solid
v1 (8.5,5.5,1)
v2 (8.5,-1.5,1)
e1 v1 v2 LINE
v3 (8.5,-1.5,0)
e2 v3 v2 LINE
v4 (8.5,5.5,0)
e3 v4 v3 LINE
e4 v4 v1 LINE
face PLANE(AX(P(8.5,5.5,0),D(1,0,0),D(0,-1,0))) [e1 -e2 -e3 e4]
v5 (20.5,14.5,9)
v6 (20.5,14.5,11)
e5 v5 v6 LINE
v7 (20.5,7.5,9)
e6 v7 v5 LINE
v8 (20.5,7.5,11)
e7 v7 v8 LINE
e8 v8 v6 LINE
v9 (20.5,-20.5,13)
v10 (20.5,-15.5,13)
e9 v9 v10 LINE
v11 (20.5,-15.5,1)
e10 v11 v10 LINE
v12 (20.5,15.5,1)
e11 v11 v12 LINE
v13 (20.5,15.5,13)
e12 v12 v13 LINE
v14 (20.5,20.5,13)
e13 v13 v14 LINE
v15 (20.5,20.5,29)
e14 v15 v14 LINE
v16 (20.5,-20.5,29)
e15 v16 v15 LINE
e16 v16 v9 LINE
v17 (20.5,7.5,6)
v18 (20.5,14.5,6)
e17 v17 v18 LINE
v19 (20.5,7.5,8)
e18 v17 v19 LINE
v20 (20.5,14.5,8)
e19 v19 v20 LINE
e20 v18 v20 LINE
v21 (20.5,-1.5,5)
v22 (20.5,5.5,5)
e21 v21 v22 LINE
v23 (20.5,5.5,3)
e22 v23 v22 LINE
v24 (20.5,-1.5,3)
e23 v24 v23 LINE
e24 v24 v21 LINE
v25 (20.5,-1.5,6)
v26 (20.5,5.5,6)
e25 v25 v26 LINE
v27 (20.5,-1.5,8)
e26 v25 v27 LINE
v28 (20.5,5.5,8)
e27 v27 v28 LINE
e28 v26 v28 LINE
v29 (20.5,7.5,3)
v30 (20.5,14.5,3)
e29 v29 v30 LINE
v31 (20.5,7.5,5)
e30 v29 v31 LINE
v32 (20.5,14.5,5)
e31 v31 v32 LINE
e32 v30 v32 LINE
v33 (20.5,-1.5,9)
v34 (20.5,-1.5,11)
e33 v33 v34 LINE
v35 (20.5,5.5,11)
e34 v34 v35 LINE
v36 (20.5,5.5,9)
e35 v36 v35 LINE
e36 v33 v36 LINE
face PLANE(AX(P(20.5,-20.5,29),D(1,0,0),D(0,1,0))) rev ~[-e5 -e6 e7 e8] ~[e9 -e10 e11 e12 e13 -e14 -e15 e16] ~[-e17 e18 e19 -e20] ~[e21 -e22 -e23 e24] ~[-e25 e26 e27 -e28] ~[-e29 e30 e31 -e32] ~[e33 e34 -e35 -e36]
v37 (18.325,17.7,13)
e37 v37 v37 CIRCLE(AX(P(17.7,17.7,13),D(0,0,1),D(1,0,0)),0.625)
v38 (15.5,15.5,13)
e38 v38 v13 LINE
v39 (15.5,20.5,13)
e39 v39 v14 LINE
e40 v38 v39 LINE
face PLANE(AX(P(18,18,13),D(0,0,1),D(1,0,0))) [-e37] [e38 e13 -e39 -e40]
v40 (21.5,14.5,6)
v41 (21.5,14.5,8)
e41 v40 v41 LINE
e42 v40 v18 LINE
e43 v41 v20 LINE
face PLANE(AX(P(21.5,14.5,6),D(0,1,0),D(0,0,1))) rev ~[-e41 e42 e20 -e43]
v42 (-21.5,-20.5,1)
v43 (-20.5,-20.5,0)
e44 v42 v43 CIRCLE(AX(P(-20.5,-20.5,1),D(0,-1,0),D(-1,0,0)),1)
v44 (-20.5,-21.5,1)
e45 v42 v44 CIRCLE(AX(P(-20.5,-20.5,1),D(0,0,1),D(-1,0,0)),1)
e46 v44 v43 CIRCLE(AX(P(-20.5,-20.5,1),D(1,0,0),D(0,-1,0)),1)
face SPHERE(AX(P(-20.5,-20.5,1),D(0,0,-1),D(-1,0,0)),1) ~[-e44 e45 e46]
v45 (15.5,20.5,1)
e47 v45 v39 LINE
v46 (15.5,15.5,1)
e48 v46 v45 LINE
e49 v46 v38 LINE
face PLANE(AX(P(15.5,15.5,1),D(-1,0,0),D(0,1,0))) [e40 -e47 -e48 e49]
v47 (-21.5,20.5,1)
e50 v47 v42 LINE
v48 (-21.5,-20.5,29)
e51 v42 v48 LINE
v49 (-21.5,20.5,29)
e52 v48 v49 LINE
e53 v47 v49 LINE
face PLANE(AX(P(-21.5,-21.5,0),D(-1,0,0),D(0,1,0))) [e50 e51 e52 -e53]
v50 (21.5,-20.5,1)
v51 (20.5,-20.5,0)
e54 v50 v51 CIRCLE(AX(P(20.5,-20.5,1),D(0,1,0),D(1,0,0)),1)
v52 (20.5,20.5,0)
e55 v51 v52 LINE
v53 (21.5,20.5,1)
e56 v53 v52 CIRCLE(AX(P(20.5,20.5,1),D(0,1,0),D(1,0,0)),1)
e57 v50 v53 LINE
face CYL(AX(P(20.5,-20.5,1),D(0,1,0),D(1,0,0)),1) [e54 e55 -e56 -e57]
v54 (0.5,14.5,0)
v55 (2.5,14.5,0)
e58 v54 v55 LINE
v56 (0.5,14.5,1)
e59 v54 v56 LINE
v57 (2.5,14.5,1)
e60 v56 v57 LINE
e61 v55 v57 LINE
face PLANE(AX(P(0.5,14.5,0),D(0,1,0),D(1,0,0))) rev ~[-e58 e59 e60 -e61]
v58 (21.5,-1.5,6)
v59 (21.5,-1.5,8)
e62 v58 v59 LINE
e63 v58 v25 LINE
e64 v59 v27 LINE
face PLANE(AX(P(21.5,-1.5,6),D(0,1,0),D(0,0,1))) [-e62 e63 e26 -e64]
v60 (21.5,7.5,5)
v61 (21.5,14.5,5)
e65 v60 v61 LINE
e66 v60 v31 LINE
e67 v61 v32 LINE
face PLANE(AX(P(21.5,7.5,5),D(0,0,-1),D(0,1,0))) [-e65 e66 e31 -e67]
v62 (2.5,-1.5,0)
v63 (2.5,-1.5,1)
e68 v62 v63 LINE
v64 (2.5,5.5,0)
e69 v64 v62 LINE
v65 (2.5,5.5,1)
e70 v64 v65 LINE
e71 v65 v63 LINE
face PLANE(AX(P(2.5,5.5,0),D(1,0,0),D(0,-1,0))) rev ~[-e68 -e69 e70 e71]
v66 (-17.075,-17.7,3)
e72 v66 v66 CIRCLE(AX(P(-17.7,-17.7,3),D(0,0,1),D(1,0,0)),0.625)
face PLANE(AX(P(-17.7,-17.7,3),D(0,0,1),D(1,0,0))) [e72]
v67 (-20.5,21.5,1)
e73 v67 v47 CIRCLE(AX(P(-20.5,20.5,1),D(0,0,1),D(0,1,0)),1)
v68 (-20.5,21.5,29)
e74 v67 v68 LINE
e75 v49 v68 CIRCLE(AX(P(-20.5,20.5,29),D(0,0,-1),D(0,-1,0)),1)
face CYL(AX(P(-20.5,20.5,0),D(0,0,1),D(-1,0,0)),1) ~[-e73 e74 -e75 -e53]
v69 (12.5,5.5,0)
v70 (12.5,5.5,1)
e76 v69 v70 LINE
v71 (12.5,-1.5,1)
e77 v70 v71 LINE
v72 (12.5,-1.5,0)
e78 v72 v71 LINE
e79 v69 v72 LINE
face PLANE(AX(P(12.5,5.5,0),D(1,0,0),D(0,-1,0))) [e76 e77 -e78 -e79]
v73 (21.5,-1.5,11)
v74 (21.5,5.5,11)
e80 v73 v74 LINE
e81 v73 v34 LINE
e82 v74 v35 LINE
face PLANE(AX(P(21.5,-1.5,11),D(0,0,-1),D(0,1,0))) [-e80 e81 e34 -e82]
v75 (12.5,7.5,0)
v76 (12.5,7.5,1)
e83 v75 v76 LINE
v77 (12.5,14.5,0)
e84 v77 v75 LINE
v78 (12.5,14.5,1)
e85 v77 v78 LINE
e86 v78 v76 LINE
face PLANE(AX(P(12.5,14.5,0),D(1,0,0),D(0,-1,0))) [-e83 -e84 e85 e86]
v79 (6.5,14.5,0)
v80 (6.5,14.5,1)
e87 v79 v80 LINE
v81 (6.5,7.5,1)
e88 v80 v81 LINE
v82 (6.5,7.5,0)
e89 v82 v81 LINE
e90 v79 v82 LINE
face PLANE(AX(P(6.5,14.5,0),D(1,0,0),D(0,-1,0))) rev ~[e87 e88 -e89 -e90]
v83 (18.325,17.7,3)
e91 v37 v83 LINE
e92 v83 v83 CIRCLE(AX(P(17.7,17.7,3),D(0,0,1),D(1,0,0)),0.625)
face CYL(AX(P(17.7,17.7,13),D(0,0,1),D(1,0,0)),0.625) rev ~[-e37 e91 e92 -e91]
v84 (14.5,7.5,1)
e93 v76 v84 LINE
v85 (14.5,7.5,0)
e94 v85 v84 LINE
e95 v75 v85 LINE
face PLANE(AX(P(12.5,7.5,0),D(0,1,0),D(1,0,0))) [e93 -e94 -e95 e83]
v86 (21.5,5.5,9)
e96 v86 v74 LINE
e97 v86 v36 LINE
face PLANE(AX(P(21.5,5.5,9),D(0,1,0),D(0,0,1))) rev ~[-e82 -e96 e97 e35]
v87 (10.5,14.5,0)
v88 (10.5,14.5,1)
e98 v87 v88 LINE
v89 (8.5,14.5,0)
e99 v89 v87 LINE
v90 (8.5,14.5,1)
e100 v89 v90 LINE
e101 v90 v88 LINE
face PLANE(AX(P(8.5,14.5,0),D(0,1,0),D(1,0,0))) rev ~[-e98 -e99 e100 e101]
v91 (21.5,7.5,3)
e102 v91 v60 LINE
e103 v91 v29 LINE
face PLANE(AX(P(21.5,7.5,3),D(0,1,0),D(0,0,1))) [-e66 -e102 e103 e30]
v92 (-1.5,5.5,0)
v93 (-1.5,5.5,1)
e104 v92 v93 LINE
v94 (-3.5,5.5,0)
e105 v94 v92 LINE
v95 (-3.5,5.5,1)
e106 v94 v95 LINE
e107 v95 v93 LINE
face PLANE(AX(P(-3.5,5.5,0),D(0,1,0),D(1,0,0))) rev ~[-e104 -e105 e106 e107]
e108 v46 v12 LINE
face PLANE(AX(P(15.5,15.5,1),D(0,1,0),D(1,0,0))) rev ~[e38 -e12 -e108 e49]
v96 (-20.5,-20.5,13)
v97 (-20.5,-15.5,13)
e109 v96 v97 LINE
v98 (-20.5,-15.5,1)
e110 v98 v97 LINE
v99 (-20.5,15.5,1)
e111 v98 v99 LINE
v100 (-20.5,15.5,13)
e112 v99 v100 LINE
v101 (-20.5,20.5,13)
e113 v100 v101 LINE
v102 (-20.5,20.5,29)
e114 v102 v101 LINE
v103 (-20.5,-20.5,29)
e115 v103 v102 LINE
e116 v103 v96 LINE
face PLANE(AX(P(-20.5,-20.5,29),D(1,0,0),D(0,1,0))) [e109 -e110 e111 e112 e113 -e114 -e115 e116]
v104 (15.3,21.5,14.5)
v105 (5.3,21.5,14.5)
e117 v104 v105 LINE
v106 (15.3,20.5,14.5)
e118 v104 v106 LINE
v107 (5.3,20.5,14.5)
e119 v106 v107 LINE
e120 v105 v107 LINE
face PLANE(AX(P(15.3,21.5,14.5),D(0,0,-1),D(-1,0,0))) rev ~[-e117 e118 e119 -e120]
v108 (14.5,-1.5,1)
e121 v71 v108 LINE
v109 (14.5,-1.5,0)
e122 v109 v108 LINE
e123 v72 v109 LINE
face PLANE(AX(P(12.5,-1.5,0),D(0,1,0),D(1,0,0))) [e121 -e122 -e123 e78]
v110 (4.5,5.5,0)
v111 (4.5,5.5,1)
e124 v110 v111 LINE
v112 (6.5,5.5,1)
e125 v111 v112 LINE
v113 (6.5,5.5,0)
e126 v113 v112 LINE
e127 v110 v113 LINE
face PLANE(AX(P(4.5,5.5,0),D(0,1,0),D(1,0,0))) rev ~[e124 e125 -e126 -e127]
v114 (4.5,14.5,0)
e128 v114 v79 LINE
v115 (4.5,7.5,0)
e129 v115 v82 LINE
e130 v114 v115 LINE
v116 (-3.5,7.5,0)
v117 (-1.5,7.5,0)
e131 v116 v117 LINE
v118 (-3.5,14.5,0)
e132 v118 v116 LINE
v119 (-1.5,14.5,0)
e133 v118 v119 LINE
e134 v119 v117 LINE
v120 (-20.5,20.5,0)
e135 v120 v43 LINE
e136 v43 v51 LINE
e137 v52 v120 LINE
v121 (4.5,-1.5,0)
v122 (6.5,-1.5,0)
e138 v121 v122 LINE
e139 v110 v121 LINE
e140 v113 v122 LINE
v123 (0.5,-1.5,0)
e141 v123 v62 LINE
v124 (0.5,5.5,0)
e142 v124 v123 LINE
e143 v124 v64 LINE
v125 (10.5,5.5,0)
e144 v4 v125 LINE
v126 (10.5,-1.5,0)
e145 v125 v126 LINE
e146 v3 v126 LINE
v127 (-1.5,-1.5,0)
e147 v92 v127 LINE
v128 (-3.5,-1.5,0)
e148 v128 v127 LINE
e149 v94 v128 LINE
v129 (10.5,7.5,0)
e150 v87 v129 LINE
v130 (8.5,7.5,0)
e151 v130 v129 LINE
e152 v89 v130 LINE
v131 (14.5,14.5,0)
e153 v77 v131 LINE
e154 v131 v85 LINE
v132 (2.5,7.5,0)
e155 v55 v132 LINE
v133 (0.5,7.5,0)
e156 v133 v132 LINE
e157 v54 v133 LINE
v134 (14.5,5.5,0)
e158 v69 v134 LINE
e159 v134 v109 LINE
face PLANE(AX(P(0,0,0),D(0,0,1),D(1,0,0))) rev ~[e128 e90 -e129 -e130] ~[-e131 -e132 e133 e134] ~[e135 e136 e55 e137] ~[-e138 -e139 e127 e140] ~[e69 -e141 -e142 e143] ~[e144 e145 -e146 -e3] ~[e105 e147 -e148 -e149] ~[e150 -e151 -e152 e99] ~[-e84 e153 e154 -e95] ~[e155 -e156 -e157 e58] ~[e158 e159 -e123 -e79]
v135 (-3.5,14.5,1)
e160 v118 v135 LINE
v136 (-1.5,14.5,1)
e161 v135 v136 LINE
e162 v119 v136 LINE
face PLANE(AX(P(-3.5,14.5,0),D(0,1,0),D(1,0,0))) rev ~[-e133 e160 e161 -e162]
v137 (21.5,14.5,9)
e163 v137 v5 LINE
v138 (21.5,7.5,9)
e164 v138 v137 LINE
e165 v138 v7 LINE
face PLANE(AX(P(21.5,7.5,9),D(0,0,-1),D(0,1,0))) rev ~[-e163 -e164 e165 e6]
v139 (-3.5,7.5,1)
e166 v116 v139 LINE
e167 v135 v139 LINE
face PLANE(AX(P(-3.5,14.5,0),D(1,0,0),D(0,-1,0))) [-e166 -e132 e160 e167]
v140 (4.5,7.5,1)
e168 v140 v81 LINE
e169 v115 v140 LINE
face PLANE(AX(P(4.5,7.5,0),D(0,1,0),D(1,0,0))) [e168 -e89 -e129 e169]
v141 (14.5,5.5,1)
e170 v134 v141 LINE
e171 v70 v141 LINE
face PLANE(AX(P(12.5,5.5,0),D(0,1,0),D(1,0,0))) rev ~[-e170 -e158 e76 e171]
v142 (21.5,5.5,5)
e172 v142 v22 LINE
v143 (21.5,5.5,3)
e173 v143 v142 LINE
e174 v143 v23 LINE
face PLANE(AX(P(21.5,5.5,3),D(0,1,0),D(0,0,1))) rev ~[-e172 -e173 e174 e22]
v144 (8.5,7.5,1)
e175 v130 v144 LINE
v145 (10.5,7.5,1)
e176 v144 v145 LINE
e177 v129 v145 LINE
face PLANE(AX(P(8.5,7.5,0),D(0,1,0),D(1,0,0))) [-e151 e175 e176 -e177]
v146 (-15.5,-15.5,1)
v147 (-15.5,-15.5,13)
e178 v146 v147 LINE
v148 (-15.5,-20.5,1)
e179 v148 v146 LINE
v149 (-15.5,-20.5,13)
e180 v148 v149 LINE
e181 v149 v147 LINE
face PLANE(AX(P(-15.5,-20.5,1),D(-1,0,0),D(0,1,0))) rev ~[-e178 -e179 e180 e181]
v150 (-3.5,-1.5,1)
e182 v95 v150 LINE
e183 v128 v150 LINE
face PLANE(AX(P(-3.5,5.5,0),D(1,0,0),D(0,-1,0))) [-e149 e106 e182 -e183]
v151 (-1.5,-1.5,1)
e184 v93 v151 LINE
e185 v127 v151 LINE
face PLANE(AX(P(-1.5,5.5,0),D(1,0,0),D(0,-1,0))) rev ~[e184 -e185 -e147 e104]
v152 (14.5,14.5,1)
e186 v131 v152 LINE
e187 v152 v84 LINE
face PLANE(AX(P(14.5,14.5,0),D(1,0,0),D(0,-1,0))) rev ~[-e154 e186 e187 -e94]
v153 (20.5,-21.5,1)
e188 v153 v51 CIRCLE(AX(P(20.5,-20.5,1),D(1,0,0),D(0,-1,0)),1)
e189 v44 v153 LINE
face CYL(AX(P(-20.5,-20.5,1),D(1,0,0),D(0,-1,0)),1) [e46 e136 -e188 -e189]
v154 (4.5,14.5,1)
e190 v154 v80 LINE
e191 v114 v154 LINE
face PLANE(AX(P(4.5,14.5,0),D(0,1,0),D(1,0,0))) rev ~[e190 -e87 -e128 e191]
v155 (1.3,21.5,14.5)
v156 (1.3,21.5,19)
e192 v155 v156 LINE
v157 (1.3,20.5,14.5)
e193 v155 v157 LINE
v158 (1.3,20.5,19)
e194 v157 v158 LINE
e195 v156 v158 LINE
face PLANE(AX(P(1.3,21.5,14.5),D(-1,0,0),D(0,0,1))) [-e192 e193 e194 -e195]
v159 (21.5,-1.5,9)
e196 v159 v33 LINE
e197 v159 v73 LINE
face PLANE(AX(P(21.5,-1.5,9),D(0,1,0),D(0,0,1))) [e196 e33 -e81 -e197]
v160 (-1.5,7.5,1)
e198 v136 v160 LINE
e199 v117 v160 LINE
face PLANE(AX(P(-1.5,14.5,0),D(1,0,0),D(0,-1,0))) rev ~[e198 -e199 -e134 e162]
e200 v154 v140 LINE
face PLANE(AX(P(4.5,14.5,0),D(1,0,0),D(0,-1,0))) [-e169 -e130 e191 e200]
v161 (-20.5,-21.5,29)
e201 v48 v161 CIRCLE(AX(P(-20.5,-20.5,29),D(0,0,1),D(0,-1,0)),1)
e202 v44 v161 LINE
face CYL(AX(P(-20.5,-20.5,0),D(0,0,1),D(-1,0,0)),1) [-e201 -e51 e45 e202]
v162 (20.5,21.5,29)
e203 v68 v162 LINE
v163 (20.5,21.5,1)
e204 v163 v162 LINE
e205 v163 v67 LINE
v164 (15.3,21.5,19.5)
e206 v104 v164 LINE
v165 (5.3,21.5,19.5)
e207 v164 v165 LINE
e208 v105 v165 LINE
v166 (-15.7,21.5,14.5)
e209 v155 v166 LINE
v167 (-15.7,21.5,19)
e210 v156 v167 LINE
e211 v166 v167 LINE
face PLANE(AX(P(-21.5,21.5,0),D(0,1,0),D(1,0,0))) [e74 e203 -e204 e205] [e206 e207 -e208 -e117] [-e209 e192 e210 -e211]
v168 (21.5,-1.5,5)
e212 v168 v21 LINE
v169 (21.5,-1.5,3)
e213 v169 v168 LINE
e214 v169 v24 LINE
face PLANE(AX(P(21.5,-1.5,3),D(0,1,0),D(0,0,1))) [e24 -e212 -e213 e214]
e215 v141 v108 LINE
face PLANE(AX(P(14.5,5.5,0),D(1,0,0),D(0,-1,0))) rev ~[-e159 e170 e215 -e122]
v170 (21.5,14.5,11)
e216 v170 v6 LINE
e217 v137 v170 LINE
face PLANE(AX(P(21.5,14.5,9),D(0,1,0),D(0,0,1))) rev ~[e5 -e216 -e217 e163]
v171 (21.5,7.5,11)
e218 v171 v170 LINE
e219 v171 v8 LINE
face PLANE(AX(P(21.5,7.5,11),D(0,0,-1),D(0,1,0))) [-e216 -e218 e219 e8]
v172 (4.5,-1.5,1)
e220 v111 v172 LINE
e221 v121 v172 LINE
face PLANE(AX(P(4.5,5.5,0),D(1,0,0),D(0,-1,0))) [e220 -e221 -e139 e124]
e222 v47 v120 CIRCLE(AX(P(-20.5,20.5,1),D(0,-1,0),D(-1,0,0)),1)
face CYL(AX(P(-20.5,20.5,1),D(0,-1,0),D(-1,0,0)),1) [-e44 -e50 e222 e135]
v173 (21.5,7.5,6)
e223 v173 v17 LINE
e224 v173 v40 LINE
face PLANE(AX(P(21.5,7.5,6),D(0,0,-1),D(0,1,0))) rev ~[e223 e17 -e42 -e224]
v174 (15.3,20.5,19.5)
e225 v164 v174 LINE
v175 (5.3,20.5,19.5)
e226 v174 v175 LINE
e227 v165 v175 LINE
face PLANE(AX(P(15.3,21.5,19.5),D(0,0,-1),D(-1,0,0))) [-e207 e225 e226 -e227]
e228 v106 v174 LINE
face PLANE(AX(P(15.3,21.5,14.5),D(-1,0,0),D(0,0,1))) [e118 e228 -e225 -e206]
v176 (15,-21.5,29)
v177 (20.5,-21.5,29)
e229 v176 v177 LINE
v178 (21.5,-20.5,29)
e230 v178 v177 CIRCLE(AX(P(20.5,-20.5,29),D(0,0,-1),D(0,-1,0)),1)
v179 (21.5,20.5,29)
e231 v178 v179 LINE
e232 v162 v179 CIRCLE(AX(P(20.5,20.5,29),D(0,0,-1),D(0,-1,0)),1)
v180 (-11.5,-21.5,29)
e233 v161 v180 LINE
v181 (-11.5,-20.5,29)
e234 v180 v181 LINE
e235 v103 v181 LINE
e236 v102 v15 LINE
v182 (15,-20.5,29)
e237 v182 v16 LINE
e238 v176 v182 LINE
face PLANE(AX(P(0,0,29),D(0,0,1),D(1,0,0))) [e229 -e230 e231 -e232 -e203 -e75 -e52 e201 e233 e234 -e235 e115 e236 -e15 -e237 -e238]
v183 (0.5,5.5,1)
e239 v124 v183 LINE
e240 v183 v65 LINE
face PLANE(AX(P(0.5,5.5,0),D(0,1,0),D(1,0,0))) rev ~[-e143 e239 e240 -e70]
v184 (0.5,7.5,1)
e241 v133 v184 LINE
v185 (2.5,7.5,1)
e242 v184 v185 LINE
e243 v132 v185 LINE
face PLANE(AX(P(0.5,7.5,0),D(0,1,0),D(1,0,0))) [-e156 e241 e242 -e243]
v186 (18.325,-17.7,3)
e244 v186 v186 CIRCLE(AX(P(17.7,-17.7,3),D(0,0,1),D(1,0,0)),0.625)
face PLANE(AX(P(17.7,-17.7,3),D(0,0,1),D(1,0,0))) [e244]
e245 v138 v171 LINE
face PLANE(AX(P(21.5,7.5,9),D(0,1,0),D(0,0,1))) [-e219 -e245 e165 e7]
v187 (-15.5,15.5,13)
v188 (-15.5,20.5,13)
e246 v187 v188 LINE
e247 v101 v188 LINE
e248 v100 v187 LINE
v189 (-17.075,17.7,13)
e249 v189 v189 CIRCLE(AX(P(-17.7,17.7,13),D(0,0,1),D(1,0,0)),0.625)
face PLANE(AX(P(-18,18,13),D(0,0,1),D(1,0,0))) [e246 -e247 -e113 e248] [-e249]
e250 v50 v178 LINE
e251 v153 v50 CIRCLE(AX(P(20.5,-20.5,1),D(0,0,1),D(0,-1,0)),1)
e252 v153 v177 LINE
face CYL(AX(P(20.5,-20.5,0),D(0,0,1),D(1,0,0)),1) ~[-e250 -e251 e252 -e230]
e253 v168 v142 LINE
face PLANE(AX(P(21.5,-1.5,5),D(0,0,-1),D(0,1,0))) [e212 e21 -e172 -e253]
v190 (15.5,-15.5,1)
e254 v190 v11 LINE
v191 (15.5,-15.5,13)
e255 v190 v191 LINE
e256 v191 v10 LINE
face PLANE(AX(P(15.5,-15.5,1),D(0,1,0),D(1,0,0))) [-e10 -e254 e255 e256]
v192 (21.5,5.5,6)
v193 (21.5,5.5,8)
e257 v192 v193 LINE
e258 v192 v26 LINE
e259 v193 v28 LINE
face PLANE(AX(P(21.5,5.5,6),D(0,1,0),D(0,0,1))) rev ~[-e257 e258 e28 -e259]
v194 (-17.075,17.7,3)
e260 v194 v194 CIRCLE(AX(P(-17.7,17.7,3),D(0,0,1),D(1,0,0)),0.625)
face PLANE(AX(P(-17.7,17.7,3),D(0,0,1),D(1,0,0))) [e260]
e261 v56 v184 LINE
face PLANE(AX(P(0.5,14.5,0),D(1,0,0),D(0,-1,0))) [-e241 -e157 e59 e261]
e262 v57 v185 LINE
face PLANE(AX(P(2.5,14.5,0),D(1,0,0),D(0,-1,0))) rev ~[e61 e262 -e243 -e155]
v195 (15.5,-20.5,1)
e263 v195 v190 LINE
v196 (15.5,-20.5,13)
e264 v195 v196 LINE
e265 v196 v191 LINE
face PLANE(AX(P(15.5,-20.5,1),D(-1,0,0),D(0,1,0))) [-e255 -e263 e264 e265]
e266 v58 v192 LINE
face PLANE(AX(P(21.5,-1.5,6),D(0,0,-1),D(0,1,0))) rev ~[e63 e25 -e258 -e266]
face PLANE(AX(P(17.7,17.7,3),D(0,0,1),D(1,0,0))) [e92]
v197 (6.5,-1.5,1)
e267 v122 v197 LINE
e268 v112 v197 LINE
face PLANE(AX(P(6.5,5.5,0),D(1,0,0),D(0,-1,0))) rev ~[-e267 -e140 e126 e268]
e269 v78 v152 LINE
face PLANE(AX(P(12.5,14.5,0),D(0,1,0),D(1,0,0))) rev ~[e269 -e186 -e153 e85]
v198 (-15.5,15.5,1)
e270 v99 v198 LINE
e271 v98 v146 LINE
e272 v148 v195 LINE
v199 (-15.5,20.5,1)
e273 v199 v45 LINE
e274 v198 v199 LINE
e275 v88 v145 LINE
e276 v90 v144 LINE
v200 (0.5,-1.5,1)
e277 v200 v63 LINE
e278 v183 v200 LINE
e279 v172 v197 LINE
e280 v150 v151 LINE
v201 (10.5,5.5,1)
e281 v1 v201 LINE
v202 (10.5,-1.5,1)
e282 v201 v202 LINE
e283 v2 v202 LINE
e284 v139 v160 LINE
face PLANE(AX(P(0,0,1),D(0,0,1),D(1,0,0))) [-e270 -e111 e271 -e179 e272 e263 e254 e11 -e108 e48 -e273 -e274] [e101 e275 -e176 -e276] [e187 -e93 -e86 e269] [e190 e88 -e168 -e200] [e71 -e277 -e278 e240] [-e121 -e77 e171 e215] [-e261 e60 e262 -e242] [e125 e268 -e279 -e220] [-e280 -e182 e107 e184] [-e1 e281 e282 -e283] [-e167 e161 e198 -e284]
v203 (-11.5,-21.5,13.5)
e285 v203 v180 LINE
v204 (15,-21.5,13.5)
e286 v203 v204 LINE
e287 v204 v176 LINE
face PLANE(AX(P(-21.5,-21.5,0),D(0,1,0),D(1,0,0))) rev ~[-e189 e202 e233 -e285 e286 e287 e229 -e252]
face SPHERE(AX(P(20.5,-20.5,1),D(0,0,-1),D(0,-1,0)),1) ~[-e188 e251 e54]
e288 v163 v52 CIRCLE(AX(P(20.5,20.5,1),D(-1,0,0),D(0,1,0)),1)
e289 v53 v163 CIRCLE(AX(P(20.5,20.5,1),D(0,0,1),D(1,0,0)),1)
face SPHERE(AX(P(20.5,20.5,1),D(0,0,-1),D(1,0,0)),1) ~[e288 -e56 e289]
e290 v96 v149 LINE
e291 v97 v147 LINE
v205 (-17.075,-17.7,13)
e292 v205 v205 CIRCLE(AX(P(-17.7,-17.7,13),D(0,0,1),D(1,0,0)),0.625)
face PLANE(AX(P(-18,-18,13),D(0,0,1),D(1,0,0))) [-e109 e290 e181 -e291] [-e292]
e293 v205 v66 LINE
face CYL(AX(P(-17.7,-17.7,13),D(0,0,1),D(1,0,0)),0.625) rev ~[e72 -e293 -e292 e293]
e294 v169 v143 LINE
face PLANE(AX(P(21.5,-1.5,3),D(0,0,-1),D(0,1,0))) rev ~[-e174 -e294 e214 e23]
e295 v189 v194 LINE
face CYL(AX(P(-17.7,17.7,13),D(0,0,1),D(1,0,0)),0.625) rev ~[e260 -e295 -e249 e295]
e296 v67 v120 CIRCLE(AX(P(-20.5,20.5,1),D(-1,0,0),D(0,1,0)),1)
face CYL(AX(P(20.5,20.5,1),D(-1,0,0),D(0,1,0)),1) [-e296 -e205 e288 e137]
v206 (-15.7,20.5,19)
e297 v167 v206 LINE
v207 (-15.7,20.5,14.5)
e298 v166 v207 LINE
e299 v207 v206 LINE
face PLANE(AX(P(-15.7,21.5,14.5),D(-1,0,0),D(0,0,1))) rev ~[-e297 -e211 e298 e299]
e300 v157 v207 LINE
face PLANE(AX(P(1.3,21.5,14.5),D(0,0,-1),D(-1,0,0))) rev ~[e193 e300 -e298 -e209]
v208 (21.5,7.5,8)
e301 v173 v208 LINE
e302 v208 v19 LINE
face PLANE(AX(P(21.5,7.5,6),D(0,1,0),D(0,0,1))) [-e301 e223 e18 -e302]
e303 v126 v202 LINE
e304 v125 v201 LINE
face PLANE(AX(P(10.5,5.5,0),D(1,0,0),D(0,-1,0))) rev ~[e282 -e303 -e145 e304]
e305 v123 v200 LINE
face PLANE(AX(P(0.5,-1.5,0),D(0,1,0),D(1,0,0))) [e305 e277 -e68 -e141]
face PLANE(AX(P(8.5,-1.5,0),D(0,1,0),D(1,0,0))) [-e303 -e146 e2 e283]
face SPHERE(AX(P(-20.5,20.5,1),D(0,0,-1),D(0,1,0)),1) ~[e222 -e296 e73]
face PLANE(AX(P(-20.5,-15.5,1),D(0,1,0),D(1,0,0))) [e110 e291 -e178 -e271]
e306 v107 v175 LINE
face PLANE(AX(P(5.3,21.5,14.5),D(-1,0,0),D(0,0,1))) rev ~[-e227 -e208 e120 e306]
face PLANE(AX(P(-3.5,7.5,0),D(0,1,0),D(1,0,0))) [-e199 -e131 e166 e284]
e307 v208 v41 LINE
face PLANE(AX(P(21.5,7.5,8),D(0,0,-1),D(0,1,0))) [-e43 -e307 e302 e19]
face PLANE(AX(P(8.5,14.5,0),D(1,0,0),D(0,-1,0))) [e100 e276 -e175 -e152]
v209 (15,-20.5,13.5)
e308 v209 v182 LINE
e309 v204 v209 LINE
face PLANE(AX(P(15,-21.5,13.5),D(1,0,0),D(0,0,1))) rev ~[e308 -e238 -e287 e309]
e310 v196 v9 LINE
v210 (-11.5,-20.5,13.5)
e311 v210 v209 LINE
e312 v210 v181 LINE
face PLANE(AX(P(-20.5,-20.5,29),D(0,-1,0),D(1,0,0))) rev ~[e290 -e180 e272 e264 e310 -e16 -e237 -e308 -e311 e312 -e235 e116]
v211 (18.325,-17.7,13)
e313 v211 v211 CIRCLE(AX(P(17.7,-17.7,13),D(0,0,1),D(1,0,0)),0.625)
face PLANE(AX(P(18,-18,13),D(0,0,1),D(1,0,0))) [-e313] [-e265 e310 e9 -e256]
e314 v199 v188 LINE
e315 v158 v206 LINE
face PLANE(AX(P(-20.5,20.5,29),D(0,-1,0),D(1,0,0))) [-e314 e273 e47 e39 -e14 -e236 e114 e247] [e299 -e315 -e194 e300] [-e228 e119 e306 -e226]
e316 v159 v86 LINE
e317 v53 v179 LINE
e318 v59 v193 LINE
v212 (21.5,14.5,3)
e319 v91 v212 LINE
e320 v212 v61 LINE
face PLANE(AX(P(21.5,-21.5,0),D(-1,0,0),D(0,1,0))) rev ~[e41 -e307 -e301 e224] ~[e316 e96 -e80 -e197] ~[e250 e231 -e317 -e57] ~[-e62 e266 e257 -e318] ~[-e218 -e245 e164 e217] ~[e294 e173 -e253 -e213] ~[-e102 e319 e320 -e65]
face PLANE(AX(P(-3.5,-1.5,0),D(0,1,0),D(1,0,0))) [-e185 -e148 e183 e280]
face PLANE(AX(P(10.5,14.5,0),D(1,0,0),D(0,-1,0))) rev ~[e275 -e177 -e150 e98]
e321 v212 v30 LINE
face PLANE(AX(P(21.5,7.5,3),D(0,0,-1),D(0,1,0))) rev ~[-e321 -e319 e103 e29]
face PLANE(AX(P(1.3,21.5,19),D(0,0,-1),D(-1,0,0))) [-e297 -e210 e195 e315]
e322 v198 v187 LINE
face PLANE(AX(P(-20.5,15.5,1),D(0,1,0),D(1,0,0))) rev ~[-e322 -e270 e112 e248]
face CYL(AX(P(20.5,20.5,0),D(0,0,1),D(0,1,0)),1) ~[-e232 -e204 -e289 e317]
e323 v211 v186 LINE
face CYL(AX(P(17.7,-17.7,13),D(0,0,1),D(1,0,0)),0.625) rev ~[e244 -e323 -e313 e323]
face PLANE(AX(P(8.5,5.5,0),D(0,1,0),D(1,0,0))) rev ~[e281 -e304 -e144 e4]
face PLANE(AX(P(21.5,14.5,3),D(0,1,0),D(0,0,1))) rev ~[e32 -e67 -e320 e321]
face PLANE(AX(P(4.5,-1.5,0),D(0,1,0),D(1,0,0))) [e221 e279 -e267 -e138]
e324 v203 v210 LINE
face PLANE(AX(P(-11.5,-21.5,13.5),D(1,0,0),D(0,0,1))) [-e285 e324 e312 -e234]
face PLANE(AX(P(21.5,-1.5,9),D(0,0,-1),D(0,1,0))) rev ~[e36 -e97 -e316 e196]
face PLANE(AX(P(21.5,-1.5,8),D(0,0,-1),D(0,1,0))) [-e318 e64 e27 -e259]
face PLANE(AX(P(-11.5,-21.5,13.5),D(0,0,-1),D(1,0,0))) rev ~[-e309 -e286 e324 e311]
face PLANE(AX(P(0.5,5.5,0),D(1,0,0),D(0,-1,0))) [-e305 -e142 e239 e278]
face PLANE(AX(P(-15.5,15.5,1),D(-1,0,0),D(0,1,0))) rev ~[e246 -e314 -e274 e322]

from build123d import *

# Parameters (mm, degrees)
SKETCH_W        = 43
SKETCH_H        = 43
PAD_DEPTH       = 29
SKETCH001_W     = 41
SKETCH001_H     = 41
POCKET_DEPTH    = 28
SKETCH002_W     = 5
SKETCH002_H     = 5
PAD001_DEPTH    = 12
SKETCH003_R     = 0.625
POCKET001_DEPTH = 10
SKETCH004_W     = 26.5
SKETCH004_H     = 16
POCKET002_DEPTH = 1
SKETCH005_W     = 10
SKETCH005_H     = 5
SKETCH005_W_2   = 17
SKETCH005_H_2   = 4.5
POCKET003_DEPTH = 1
SKETCH006_W     = 2
SKETCH006_H     = 7
POCKET004_DEPTH = 1
FILLET_R        = 1
FILLET001_R     = 1
SKETCH007_W     = 7
SKETCH007_H     = 2
POCKET005_DEPTH = 1


with BuildPart() as part:
    # Sketch → Pad (new body)
    with BuildSketch(Plane.XY):
        Rectangle(SKETCH_W, SKETCH_H)
    extrude(amount=PAD_DEPTH)

    # Sketch001 (on Face6 of Pad) → Pocket (cut)
    with BuildSketch(Plane.XY.offset(29)):
        Rectangle(SKETCH001_W, SKETCH001_H)
    extrude(amount=-POCKET_DEPTH, mode=Mode.SUBTRACT)

    # Sketch002 (on Face11 of Pocket) → Pad001 (join)
    with BuildSketch(Plane.XY.offset(1)):
        with Locations((-18, 18)):
            Rectangle(SKETCH002_W, SKETCH002_H)
        with Locations((18, 18)):
            Rectangle(SKETCH002_W, SKETCH002_H)
        with Locations((-18, -18)):
            Rectangle(SKETCH002_W, SKETCH002_H)
        with Locations((18, -18)):
            Rectangle(SKETCH002_W, SKETCH002_H)
    extrude(amount=PAD001_DEPTH)

    # Sketch003 (on DatumPlane) → Pocket001 (cut)
    with BuildSketch(Plane.XY.offset(13)):
        with Locations((-17.7, 17.7)):
            Circle(SKETCH003_R)
        with Locations((17.7, 17.7)):
            Circle(SKETCH003_R)
        with Locations((-17.7, -17.7)):
            Circle(SKETCH003_R)
        with Locations((17.7, -17.7)):
            Circle(SKETCH003_R)
    extrude(amount=-POCKET001_DEPTH, mode=Mode.SUBTRACT)

    # Sketch004 (on Face6 of Pocket001) → Pocket002 (cut)
    with BuildSketch(Plane.XZ.offset(21.5)):
        with Locations((1.75, 21.5)):
            Rectangle(SKETCH004_W, SKETCH004_H)
    extrude(amount=-POCKET002_DEPTH, mode=Mode.SUBTRACT)

    # Sketch005 (on Face1 of Pocket002) → Pocket003 (cut)
    with BuildSketch(Plane(origin=(0, 21.5, 0), x_dir=(-1, 0, 0), z_dir=(0, 1, 0))):
        with Locations((-10.3, 17)):
            Rectangle(SKETCH005_W, SKETCH005_H)
        with Locations((7.2, 16.75)):
            Rectangle(SKETCH005_W_2, SKETCH005_H_2)
    extrude(amount=-POCKET003_DEPTH, mode=Mode.SUBTRACT)

    # Sketch006 (on Face3 of Pocket003) → Pocket004 (cut)
    with BuildSketch(Plane(origin=(0, 0, 0), x_dir=(1, 0, 0), z_dir=(0, 0, -1))):
        with Locations((13.5, -11)):
            Rectangle(SKETCH006_W, SKETCH006_H)
        with Locations((13.5, -2)):
            Rectangle(SKETCH006_W, SKETCH006_H)
        with Locations((9.5, -11)):
            Rectangle(SKETCH006_W, SKETCH006_H)
        with Locations((9.5, -2)):
            Rectangle(SKETCH006_W, SKETCH006_H)
        with Locations((5.5, -2)):
            Rectangle(SKETCH006_W, SKETCH006_H)
        with Locations((5.5, -11)):
            Rectangle(SKETCH006_W, SKETCH006_H)
        with Locations((1.5, -2)):
            Rectangle(SKETCH006_W, SKETCH006_H)
        with Locations((1.5, -11)):
            Rectangle(SKETCH006_W, SKETCH006_H)
        with Locations((-2.5, -2)):
            Rectangle(SKETCH006_W, SKETCH006_H)
        with Locations((-2.5, -11)):
            Rectangle(SKETCH006_W, SKETCH006_H)
    extrude(amount=-POCKET004_DEPTH, mode=Mode.SUBTRACT)

    # Fillet
    fillet_edges = [part.edges().sort_by_distance(p)[0] for p in [
        (-21.5, -21.5, 14.5),
        (21.5, -21.5, 14.5),
        (21.5, 21.5, 14.5),
        (-21.5, 21.5, 14.5),
    ]]
    fillet(fillet_edges, radius=FILLET_R)

    # Fillet001
    fillet001_edges = [part.edges().sort_by_distance(p)[0] for p in [
        (21.5, 0, 0),
        (0, -21.5, 0),
        (0, 21.5, 0),
        (-21.5, 0, 0),
    ]]
    fillet(fillet001_edges, radius=FILLET001_R)

    # Sketch007 (on Face22 of Fillet001) → Pocket005 (cut)
    with BuildSketch(Plane.YZ.offset(21.5)):
        with Locations((2, 10)):
            Rectangle(SKETCH007_W, SKETCH007_H)
        with Locations((11, 10)):
            Rectangle(SKETCH007_W, SKETCH007_H)
        with Locations((2, 7)):
            Rectangle(SKETCH007_W, SKETCH007_H)
        with Locations((11, 7)):
            Rectangle(SKETCH007_W, SKETCH007_H)
        with Locations((2, 4)):
            Rectangle(SKETCH007_W, SKETCH007_H)
        with Locations((11, 4)):
            Rectangle(SKETCH007_W, SKETCH007_H)
    extrude(amount=-POCKET005_DEPTH, mode=Mode.SUBTRACT)


solid = part.part
